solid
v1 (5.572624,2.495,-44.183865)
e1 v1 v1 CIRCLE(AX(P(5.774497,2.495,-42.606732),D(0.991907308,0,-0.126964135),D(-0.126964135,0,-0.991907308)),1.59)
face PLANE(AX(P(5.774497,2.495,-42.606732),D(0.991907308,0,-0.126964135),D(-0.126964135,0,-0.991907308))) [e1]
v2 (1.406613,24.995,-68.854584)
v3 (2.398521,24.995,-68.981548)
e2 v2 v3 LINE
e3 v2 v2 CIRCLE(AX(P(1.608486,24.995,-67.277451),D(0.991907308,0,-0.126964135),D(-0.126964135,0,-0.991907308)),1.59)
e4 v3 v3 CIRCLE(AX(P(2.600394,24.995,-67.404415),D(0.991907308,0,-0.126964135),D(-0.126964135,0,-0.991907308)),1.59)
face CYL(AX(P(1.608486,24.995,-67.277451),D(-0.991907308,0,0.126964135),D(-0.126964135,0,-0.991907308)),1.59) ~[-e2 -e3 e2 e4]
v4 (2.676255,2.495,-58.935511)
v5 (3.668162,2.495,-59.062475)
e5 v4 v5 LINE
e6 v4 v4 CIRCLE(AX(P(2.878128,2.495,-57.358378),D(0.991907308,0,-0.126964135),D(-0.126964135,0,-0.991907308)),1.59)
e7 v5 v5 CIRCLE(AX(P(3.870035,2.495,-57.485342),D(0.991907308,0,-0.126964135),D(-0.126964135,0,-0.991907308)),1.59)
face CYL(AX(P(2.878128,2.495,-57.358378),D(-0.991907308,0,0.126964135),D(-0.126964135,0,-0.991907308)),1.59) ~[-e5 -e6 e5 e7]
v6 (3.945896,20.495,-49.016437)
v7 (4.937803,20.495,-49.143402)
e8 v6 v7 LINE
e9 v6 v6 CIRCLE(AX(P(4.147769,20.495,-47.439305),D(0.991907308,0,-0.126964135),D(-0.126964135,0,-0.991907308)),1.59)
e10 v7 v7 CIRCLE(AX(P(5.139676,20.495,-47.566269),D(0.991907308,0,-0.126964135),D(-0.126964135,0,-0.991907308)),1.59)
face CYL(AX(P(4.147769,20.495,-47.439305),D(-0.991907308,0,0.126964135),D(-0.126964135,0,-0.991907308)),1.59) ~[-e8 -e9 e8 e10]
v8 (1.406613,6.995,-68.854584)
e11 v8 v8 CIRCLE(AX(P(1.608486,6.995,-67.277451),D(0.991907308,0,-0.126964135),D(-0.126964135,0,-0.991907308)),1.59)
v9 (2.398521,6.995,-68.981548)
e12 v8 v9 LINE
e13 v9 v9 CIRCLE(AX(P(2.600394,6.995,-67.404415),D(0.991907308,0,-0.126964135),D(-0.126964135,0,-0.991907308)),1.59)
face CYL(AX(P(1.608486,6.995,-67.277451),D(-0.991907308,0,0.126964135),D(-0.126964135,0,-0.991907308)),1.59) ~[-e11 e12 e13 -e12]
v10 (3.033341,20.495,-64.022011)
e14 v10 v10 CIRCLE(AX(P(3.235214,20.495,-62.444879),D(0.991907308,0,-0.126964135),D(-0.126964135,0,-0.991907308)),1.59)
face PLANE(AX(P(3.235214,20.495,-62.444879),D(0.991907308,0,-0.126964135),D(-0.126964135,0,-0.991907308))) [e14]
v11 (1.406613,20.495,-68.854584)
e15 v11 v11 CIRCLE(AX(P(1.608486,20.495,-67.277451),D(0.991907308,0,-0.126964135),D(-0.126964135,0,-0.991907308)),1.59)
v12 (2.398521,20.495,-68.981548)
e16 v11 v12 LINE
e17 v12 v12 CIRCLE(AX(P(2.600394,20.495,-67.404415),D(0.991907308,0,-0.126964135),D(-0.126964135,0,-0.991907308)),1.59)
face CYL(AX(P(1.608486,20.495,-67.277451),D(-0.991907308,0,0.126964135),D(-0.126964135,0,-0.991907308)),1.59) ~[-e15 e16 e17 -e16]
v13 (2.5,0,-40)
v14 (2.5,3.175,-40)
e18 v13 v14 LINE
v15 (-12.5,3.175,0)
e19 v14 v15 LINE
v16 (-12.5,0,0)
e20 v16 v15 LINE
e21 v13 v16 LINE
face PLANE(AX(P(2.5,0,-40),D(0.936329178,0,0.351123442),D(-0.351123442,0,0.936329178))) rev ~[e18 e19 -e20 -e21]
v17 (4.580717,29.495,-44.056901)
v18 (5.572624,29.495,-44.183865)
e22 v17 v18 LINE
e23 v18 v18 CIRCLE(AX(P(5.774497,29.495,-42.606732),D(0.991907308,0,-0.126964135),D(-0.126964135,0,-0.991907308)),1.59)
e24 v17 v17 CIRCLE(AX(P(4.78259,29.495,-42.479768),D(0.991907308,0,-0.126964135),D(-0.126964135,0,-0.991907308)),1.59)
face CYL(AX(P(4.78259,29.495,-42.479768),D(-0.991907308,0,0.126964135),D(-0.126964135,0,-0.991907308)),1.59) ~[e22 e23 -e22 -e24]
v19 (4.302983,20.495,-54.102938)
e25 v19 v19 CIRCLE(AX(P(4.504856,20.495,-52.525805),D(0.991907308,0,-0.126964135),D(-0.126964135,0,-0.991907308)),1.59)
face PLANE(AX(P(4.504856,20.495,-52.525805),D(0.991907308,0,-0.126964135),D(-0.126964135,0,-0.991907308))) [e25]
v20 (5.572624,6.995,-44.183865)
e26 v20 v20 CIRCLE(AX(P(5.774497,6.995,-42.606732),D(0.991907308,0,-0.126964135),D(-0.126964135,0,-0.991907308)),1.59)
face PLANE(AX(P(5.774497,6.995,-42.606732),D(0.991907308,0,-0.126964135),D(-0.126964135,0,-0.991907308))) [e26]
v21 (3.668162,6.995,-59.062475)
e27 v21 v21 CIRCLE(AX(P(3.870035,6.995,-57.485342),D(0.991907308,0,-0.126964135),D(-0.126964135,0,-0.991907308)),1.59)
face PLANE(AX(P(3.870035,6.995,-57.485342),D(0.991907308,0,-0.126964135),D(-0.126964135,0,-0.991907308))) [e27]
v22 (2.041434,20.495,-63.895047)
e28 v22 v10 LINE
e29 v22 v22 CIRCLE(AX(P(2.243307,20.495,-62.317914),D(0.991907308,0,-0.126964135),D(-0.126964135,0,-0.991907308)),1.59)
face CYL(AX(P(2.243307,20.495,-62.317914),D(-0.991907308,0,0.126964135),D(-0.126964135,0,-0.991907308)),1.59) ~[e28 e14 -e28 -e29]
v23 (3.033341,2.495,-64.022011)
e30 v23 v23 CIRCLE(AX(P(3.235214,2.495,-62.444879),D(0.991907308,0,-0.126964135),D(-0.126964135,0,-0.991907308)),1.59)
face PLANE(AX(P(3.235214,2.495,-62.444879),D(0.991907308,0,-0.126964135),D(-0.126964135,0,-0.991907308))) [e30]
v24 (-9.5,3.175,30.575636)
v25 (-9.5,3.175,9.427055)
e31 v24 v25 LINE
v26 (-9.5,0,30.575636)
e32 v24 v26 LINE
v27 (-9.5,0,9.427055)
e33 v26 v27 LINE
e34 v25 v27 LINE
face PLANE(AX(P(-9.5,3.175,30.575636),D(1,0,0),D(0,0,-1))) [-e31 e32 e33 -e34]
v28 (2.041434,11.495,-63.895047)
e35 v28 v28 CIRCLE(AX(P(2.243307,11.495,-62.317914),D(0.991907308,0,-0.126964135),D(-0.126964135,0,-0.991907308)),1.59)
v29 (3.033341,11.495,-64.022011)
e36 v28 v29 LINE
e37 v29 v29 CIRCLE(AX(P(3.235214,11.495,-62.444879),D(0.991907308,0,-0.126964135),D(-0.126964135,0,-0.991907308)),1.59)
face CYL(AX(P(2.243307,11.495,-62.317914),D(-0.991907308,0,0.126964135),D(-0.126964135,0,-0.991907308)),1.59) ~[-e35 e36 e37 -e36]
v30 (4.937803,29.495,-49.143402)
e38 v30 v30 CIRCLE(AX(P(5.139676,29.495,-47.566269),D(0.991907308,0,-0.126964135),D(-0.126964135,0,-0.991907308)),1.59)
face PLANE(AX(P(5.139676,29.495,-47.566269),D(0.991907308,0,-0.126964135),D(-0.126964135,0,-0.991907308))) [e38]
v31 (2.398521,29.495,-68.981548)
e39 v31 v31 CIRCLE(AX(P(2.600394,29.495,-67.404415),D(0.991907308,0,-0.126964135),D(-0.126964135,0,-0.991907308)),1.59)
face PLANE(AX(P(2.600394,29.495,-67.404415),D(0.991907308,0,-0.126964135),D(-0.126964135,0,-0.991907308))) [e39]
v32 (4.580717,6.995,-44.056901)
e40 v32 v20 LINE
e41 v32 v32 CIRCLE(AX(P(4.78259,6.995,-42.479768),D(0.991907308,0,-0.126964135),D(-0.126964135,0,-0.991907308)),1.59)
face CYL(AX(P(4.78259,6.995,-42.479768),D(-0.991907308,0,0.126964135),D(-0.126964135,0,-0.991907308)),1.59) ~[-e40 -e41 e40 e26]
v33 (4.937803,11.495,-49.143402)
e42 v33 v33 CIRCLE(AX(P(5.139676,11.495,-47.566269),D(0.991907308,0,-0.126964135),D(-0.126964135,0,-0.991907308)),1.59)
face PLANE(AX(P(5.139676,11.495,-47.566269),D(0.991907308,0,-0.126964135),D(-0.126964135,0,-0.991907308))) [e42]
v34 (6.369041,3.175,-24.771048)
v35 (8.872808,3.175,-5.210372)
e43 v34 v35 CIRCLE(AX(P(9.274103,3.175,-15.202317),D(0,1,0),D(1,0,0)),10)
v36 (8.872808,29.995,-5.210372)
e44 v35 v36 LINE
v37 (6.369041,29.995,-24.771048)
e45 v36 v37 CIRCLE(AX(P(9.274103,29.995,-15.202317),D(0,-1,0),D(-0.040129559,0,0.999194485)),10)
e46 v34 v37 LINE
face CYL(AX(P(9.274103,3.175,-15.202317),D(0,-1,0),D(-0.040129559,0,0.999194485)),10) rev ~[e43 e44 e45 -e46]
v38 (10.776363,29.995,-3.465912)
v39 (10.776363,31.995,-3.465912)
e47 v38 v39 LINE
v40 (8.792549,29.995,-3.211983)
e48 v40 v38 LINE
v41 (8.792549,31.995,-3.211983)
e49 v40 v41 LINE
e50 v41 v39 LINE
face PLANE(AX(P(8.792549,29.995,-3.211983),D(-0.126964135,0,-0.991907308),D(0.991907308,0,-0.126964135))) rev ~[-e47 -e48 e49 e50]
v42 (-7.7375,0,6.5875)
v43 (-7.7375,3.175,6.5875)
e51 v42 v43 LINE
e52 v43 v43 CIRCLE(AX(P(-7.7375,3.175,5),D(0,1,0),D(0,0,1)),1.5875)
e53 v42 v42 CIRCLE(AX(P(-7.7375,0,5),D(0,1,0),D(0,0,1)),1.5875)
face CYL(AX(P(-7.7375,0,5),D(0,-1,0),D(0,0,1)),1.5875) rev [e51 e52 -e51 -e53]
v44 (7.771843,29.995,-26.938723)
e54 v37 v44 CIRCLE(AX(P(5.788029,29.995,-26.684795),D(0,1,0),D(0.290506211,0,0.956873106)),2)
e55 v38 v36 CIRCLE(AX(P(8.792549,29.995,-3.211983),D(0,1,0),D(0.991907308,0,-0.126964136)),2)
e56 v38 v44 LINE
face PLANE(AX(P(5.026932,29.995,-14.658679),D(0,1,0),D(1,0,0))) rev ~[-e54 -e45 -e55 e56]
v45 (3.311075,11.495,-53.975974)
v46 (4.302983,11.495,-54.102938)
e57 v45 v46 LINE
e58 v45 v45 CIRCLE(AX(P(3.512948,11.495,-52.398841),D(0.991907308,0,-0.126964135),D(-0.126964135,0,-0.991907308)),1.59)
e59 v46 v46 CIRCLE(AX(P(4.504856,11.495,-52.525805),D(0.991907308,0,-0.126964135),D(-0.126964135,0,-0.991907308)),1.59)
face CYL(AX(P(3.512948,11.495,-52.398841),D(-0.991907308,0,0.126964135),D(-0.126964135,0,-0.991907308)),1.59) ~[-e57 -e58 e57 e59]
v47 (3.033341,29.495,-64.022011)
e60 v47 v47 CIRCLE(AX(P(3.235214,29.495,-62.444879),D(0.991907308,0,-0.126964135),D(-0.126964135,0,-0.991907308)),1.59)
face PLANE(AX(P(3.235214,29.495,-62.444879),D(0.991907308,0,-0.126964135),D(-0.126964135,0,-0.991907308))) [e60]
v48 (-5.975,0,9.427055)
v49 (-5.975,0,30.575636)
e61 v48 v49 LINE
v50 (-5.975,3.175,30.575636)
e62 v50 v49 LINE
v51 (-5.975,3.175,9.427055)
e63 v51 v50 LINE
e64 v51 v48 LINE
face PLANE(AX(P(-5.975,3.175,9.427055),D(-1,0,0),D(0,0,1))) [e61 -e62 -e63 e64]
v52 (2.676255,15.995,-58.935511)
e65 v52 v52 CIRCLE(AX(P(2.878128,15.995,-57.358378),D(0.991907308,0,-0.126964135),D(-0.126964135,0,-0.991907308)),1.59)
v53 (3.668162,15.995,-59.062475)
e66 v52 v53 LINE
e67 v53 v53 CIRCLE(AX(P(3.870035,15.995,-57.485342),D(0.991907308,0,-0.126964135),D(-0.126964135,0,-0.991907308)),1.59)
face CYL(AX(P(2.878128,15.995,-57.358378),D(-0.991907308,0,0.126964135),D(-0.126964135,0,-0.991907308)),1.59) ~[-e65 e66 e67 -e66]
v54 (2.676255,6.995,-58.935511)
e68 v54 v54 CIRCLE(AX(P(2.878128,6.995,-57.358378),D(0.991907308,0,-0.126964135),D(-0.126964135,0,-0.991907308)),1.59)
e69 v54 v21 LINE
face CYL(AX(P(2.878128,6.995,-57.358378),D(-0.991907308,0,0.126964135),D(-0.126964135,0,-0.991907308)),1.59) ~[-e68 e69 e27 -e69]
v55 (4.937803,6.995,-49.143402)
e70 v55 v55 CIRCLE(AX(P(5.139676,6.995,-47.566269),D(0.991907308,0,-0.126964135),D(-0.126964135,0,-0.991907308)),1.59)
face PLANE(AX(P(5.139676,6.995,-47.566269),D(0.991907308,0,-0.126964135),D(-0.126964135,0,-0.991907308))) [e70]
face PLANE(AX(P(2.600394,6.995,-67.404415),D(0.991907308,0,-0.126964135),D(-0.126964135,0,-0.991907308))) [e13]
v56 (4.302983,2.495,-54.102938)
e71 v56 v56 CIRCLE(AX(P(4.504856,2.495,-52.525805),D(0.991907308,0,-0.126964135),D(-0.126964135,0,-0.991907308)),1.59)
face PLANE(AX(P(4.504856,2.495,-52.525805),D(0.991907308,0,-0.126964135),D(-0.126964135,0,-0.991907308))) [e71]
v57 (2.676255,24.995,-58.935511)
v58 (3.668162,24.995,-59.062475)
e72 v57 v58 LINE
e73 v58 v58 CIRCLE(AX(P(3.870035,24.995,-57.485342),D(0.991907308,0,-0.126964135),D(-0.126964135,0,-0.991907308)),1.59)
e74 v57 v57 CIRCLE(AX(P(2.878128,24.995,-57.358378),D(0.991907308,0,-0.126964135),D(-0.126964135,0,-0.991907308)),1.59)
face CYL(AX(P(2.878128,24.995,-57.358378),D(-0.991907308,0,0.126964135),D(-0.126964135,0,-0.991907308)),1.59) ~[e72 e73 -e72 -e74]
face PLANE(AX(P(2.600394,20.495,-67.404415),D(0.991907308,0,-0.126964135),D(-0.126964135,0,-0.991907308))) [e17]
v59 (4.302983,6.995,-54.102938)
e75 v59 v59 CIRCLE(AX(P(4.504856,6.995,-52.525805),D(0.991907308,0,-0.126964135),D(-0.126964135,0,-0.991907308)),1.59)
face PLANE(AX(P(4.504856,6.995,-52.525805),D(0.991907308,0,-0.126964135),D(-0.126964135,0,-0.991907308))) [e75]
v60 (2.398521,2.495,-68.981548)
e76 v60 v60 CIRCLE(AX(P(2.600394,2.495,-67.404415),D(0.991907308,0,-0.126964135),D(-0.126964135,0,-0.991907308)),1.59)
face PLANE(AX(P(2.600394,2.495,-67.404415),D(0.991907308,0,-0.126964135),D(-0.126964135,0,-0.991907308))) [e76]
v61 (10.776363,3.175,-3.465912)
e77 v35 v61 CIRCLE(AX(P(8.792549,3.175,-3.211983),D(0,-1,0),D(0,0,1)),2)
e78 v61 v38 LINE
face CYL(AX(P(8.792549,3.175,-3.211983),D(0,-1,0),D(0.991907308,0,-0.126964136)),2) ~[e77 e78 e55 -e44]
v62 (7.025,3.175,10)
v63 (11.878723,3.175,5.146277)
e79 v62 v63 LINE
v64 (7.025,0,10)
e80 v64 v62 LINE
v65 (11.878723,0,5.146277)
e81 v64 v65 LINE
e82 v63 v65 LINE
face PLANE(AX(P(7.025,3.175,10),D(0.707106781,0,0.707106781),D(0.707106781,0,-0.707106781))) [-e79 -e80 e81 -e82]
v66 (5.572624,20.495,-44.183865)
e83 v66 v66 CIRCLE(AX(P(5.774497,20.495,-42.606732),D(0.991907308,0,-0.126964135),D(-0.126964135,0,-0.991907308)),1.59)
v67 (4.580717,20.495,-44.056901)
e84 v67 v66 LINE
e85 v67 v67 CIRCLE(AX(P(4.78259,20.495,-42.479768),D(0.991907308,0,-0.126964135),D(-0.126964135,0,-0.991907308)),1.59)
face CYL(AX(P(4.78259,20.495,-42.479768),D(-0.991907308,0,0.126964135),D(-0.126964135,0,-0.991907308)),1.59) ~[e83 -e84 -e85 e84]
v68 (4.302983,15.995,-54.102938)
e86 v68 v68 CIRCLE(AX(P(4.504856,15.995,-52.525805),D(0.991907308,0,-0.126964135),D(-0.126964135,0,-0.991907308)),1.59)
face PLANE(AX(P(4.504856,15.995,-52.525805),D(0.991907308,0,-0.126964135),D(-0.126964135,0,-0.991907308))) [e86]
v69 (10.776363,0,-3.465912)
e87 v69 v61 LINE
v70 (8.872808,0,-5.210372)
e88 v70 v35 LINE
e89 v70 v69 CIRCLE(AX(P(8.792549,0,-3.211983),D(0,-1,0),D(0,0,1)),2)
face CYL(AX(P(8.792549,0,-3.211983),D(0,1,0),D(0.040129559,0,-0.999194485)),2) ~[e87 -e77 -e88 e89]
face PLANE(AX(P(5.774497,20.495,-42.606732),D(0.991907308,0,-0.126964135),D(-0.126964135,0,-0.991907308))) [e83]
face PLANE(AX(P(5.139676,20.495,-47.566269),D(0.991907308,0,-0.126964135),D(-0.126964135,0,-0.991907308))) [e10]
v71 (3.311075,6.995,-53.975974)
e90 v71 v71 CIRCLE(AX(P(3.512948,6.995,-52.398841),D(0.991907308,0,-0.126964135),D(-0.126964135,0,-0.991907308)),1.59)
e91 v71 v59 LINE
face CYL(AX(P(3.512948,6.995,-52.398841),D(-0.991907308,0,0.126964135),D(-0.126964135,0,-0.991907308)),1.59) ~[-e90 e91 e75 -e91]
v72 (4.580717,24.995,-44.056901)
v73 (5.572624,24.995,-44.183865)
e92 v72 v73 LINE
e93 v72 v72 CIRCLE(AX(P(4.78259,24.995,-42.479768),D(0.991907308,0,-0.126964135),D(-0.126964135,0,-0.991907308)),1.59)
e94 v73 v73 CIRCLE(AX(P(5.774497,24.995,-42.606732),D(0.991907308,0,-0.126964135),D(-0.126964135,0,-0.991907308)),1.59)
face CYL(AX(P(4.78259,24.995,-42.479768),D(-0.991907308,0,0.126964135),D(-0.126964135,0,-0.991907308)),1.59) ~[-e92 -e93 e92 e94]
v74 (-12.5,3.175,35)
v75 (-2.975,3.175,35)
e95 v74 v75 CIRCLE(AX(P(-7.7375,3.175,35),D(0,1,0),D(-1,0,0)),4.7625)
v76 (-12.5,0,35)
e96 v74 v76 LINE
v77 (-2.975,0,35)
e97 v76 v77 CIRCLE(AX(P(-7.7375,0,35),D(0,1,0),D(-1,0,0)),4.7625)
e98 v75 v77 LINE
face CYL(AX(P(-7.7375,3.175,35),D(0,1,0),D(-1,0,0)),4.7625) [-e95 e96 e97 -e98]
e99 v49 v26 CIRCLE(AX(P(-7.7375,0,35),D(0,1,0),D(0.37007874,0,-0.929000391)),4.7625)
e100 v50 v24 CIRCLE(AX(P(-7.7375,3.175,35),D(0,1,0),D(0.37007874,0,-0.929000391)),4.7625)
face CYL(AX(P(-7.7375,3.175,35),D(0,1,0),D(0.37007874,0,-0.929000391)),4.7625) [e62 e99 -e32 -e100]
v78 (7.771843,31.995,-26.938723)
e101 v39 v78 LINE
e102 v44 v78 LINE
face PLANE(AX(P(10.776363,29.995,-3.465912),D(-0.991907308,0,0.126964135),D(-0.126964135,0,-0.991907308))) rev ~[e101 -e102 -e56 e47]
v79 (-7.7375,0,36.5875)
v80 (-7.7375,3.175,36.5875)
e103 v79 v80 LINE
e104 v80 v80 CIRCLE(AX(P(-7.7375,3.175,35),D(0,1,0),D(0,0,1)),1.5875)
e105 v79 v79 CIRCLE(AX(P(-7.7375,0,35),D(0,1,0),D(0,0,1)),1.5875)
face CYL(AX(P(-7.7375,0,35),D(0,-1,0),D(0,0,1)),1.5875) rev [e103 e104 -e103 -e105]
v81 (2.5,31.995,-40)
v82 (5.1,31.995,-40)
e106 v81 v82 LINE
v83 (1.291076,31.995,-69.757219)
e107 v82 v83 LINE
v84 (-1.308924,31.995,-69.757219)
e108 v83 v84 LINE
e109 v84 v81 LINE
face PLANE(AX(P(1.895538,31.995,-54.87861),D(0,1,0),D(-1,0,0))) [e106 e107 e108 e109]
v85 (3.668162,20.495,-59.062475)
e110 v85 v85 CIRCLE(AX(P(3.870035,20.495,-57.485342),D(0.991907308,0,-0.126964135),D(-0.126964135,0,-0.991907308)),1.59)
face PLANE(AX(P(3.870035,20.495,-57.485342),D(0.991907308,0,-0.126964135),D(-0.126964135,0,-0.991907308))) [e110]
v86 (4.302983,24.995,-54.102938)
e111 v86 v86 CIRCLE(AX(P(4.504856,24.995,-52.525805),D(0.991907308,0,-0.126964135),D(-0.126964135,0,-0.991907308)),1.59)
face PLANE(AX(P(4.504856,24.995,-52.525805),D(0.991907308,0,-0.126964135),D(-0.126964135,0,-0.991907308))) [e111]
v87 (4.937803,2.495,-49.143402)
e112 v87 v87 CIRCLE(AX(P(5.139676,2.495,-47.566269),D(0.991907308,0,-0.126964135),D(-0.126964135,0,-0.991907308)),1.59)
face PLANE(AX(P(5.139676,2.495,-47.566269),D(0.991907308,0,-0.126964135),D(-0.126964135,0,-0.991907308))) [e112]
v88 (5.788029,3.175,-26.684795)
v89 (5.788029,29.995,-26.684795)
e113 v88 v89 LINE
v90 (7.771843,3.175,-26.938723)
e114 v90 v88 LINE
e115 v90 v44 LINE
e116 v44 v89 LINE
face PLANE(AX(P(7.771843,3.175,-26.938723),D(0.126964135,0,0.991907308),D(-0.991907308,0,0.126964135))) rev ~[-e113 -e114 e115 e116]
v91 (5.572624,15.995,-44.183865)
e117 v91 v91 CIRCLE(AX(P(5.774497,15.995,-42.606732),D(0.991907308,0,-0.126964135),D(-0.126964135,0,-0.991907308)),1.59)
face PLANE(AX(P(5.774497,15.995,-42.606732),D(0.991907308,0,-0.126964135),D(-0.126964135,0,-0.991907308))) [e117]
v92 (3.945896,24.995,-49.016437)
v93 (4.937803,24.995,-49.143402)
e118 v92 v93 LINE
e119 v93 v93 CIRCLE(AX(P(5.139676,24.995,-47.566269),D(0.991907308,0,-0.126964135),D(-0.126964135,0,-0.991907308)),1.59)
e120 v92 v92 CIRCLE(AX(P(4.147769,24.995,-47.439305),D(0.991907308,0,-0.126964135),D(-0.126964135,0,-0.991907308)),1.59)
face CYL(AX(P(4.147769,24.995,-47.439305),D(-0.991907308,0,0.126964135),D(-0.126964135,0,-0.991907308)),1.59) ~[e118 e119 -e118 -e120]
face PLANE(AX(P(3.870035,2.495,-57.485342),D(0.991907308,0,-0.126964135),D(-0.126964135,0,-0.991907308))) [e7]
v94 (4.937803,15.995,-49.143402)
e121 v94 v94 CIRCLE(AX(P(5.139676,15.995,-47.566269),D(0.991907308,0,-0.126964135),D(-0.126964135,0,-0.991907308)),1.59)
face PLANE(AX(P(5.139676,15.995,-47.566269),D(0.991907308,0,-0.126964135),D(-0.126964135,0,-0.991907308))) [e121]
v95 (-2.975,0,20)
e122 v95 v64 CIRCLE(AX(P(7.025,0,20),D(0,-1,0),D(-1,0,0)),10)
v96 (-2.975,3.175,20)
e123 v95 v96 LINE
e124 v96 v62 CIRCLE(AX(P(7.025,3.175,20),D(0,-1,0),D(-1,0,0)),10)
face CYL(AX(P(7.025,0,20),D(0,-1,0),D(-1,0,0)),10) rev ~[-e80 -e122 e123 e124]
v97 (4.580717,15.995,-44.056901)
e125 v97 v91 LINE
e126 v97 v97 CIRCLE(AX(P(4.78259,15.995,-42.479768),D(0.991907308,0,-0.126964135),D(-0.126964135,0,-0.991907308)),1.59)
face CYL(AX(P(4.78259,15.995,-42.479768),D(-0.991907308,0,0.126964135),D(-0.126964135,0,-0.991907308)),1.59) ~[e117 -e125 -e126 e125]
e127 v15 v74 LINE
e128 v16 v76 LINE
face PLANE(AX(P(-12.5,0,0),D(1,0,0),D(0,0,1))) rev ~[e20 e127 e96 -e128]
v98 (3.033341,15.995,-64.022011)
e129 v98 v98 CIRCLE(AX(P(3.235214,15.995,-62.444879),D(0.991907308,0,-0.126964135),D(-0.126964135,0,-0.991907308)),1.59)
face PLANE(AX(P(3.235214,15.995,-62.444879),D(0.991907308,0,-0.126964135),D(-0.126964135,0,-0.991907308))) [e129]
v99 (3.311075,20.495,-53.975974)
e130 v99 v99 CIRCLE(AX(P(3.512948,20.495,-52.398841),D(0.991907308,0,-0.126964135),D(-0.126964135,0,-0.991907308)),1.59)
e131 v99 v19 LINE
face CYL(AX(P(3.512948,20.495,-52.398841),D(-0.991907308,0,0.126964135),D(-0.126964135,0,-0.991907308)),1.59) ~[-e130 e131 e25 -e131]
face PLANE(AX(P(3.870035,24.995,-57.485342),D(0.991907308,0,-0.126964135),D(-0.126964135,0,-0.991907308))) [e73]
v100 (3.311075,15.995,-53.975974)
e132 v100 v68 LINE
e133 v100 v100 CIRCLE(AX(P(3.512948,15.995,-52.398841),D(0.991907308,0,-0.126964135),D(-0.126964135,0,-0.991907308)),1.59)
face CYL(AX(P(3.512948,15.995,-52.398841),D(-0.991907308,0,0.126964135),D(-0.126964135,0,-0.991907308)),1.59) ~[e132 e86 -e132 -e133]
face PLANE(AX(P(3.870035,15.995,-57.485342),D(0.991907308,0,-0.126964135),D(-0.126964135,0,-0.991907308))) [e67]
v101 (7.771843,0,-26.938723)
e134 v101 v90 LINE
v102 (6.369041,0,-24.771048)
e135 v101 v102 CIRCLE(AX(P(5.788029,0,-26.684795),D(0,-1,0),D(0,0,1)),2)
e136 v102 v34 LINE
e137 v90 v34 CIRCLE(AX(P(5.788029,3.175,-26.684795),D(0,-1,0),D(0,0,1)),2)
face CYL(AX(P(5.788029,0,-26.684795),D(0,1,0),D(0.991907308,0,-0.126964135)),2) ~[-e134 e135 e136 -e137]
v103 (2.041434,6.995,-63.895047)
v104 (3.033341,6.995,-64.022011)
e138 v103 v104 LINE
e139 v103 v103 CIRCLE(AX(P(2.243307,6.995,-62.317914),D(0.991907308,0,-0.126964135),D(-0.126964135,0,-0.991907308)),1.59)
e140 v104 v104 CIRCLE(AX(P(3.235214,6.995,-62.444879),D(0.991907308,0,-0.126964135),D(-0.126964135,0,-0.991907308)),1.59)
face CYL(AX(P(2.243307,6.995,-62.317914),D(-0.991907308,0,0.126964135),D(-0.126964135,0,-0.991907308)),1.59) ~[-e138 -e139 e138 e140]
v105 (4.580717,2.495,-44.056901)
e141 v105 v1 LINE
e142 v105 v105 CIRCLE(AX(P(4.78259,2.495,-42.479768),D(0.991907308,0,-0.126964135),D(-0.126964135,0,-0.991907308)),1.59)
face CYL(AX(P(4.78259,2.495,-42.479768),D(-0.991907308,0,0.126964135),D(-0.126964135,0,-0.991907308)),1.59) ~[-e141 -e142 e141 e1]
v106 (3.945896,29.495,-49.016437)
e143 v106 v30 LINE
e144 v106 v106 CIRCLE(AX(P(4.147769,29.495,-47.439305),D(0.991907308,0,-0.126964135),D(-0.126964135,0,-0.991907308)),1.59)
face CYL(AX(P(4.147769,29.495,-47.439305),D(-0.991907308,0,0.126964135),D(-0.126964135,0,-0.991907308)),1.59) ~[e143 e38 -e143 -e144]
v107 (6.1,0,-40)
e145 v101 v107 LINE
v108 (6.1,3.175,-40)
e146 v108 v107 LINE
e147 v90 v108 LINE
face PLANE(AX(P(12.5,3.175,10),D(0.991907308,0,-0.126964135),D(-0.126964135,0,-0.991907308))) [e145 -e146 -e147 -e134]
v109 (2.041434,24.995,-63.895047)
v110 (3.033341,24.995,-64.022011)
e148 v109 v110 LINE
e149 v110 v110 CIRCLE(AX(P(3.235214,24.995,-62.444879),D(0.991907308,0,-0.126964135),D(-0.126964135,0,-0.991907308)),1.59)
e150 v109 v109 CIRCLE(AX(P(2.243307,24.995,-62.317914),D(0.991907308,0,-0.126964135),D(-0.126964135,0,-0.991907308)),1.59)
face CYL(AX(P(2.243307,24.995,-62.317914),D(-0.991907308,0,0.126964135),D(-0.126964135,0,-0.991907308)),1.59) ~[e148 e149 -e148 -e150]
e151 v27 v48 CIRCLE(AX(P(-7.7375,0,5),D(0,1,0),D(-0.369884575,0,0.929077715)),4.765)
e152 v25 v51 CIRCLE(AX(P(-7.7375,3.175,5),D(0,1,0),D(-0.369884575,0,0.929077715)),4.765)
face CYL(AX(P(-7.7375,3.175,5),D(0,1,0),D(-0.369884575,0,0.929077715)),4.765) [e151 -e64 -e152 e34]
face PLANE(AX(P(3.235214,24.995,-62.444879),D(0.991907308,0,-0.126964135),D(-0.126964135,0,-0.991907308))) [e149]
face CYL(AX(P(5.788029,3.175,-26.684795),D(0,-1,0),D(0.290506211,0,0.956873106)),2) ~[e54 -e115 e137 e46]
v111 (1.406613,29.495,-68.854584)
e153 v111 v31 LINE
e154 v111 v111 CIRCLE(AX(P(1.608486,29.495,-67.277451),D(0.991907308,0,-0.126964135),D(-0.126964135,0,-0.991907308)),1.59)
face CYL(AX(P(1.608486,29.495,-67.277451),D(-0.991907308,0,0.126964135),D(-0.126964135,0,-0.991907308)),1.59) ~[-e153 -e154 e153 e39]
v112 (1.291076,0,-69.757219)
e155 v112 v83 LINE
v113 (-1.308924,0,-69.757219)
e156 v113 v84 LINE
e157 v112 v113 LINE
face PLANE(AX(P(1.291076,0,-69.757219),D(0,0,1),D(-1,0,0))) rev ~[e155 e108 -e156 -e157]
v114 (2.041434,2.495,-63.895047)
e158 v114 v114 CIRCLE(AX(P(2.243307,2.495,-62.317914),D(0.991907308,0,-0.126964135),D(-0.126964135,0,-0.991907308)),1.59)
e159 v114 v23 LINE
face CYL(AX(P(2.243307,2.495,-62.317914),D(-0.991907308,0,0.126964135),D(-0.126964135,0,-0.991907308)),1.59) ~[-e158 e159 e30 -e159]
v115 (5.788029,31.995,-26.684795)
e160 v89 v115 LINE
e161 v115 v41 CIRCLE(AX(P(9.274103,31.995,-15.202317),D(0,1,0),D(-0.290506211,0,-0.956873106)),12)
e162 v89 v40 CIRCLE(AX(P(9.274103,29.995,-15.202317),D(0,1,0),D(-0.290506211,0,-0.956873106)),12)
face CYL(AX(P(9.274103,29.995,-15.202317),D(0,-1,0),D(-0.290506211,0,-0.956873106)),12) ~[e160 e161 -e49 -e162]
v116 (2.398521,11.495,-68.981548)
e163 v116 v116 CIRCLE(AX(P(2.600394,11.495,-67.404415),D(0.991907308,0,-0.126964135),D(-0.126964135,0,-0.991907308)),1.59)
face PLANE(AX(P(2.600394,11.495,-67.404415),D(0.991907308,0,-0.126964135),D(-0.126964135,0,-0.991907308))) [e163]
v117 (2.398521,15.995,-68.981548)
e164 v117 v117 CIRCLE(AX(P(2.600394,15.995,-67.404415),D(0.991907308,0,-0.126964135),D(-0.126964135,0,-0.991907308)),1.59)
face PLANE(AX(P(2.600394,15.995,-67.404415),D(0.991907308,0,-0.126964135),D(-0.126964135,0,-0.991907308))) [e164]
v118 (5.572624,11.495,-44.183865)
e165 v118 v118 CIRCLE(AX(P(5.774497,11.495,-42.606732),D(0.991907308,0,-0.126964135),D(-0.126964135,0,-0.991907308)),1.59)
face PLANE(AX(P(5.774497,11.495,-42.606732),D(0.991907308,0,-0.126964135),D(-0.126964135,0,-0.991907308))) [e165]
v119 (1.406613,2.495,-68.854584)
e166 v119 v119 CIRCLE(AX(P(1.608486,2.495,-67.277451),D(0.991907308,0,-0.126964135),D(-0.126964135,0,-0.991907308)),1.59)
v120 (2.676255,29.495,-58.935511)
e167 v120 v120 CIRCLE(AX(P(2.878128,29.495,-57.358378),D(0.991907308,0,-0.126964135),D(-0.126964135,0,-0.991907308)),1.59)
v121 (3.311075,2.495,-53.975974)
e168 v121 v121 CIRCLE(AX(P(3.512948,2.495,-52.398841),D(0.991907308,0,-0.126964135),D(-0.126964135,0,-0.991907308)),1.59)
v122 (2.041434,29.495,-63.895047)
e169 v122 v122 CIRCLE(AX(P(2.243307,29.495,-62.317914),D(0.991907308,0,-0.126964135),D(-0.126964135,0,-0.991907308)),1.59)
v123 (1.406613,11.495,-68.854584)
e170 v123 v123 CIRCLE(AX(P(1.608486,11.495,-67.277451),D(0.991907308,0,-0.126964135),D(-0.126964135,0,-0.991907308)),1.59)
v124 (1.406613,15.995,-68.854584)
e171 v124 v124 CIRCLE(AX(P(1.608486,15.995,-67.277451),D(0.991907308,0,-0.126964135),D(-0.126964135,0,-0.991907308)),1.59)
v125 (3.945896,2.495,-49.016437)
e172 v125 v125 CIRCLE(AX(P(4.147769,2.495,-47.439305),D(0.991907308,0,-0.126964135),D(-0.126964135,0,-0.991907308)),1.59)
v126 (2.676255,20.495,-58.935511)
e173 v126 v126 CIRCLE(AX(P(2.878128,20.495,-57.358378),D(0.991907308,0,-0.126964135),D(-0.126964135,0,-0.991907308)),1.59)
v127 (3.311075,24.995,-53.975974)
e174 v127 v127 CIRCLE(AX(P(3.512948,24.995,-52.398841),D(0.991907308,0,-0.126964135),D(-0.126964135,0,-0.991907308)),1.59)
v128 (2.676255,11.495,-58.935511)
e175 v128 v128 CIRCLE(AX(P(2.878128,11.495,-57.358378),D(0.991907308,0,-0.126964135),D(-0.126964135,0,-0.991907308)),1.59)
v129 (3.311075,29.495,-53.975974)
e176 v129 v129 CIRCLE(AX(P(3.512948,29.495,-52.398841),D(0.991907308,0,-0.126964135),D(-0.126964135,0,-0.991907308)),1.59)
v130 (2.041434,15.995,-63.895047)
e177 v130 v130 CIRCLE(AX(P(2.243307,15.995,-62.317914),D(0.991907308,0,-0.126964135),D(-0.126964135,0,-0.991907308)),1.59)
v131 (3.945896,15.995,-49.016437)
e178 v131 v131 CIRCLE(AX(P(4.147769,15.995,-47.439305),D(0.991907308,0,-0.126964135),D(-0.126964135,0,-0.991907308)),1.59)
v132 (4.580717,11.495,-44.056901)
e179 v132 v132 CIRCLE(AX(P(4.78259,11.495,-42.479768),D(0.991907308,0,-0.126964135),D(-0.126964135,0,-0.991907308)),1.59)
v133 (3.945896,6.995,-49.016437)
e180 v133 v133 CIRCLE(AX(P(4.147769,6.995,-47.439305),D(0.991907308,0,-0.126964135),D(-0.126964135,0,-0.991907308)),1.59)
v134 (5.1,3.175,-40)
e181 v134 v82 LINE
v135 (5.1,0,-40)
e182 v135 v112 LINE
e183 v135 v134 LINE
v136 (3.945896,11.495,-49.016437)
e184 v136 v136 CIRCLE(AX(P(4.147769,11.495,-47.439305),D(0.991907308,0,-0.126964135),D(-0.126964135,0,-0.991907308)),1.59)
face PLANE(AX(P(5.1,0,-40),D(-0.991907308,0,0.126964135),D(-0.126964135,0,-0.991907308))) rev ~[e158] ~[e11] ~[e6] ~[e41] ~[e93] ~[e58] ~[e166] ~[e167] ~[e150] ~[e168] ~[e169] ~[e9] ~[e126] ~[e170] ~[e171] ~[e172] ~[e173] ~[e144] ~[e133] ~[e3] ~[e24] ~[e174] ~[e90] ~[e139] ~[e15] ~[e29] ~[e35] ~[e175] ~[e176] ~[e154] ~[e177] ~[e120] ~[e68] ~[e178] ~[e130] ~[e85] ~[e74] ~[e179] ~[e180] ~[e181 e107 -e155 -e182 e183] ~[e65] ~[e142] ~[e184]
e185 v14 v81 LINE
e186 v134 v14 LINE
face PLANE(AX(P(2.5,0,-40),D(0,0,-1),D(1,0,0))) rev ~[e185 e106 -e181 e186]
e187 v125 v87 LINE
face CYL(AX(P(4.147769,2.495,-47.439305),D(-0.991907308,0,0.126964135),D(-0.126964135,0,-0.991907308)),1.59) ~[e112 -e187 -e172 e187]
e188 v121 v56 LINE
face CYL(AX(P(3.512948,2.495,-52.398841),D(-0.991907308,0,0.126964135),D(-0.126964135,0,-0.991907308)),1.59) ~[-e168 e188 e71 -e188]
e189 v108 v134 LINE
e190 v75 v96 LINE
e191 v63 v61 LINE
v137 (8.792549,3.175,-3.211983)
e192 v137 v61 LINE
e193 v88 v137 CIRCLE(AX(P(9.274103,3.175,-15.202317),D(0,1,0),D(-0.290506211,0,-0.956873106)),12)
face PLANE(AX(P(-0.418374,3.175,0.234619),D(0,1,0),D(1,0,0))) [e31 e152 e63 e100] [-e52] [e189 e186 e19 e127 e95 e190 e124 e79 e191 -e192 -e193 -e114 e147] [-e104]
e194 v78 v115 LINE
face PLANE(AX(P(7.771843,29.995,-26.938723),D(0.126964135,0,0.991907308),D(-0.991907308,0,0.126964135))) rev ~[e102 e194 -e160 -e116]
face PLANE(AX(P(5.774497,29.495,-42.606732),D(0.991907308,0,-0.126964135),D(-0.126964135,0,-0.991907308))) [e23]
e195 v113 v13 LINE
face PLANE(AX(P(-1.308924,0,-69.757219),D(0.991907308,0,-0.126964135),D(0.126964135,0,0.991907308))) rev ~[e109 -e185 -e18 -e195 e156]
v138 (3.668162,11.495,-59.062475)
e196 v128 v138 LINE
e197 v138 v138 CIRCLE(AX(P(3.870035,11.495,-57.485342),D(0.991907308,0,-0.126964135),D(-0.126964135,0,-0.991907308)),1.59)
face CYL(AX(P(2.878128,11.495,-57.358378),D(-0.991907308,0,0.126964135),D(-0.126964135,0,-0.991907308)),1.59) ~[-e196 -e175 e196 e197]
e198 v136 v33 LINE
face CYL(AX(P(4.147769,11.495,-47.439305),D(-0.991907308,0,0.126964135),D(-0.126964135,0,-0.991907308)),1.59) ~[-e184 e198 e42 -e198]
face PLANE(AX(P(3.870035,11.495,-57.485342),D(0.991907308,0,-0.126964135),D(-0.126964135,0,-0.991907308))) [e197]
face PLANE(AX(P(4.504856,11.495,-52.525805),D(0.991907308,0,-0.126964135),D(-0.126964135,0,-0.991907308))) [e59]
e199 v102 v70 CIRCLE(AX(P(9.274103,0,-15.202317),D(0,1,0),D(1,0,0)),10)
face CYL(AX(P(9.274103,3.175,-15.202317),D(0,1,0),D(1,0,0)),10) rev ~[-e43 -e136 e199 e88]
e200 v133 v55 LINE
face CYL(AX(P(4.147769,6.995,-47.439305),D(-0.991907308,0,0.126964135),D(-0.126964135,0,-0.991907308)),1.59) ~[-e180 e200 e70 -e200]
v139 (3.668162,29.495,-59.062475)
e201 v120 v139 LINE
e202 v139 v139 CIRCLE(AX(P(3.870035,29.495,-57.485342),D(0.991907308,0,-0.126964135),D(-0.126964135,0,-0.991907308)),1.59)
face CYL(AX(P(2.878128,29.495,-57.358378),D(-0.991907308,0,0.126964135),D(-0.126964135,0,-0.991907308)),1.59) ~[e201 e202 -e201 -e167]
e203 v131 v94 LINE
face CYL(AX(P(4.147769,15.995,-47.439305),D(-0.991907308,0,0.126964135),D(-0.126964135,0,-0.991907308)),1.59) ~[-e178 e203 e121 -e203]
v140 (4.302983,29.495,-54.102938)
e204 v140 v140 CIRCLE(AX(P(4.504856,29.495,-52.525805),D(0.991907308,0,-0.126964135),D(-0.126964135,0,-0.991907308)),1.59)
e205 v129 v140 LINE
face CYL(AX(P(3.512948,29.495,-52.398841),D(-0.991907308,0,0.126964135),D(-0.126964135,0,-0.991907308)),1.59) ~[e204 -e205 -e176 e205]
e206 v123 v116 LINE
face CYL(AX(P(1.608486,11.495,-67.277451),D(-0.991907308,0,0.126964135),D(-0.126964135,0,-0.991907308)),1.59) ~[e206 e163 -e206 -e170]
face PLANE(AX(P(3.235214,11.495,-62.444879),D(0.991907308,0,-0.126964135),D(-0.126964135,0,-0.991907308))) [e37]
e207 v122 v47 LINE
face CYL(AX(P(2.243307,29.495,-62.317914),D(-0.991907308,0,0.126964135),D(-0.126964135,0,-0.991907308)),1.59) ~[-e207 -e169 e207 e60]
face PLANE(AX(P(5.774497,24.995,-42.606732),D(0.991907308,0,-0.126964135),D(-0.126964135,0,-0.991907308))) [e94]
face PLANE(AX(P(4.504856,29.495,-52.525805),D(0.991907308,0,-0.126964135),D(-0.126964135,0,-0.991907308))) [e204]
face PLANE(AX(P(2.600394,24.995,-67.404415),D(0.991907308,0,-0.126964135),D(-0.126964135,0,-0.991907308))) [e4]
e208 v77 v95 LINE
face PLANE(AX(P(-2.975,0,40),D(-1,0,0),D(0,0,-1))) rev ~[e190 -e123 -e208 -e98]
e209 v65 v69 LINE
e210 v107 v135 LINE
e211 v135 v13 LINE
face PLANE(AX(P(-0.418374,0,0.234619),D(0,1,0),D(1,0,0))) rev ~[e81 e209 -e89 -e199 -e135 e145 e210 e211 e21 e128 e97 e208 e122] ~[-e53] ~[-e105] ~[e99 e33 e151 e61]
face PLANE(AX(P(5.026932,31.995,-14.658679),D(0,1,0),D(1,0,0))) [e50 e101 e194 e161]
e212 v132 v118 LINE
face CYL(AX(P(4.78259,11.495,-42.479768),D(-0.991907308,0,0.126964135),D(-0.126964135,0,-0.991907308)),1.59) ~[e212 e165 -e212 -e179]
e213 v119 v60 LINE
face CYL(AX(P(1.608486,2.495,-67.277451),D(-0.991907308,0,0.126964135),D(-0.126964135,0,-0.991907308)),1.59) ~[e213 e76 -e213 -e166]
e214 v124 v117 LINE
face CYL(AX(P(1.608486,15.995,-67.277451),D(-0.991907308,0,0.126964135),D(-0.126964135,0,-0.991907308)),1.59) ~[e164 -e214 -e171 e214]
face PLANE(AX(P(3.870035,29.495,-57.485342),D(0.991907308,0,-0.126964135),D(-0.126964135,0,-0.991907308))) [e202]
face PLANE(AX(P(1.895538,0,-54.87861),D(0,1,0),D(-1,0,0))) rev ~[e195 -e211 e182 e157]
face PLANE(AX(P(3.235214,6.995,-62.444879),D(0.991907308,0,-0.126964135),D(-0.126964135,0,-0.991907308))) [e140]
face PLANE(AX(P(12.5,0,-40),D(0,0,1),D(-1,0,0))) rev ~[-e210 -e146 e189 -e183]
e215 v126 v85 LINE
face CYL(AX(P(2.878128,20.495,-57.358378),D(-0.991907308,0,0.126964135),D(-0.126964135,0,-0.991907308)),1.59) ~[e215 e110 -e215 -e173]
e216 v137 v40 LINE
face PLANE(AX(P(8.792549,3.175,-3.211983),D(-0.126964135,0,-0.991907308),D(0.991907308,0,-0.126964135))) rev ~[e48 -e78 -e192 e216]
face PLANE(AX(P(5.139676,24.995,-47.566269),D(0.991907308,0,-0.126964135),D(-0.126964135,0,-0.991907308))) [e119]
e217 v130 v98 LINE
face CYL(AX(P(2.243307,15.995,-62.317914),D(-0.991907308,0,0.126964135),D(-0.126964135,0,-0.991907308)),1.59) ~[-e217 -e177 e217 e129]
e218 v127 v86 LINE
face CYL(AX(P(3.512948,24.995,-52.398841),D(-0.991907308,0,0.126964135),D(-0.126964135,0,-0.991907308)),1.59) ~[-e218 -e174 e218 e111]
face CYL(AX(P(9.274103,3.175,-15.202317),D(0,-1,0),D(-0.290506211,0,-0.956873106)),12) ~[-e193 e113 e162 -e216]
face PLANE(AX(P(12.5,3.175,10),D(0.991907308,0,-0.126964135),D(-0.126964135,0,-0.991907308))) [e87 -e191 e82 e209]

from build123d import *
from build123d.topology import SkipClean

# Parameters (mm, degrees)
CROQUIS1_R              = 1.5875
SALIENTE_EXTRUIR1_DEPTH = 3.175
CORTAR_EXTRUIR1_DEPTH   = 3.175
CORTAR_EXTRUIR3_DEPTH   = 10
CROQUIS4_R              = 10
CORTAR_EXTRUIR4_DEPTH   = 10
REDONDEO1_R             = 2
BOSS_EXTRUDE1_DEPTH     = 26.82
BOSS_EXTRUDE2_DEPTH     = 2
BOSS_EXTRUDE3_DEPTH     = 31.995
SKETCH5_R               = 1.59
BOSS_EXTRUDE4_DEPTH     = 1


with BuildPart() as part:
    # Croquis1 → Saliente-Extruir1 (new body)
    with BuildSketch(Plane(origin=(0, 0, 0), x_dir=(1, 0, 0), z_dir=(0, 1, 0))):
        with BuildLine():
            Line((-12.5, 0), (-12.5, -40))
            Line((-12.5, -40), (-2.975, -40))
            Line((-2.975, -40), (-2.975, -20))
            ThreePointArc((-2.975, -20), (-0.046067812, -12.928932188), (7.025, -10))
            Line((7.025, -10), (12.5, -10))
            Line((12.5, -10), (12.5, 40))
            Line((12.5, 40), (2.5, 40))
            Line((2.5, 40), (-12.5, 0))
        make_face()
        with Locations(Location((-7.7375, -5, 0), (0, 0, 270))):
            Circle(CROQUIS1_R, mode=Mode.SUBTRACT)
        with Locations(Location((-7.7375, -35, 0), (0, 0, 270))):
            Circle(CROQUIS1_R, mode=Mode.SUBTRACT)
    extrude(amount=SALIENTE_EXTRUIR1_DEPTH)

    # Croquis2 → Cortar-Extruir1 (cut)
    with BuildSketch(Plane(origin=(0, 3.175, 0), x_dir=(1, 0, 0), z_dir=(0, 1, 0))):
        Polygon((12.5, -10), (6.1, 40), (12.5, 40), align=None)
    extrude(amount=-CORTAR_EXTRUIR1_DEPTH, mode=Mode.SUBTRACT)

    # Croquis3 → Cortar-Extruir3 (cut)
    with BuildSketch(Plane(origin=(0, 3.175, 0), x_dir=(1, 0, 0), z_dir=(0, 1, 0))):
        with BuildLine():
            ThreePointArc((-5.975, -30.575635639), (-7.7375, -30.2375), (-9.5, -30.575635639))
            Line((-9.5, -30.575635639), (-9.5, -9.427055314))
            ThreePointArc((-9.5, -9.427055314), (-7.7375, -9.765), (-5.975, -9.427055314))
            Line((-5.975, -9.427055314), (-5.975, -14.803847577))
            Line((-5.975, -14.803847577), (-5.975, -30.575635639))
        make_face()
        with BuildLine():
            ThreePointArc((-12.5, -35), (-7.7375, -39.7625), (-2.975, -35))
            Line((-2.975, -35), (-2.975, -40))
            Line((-2.975, -40), (-12.5, -40))
            Line((-12.5, -40), (-12.5, -35))
        make_face()
    extrude(amount=-CORTAR_EXTRUIR3_DEPTH, mode=Mode.SUBTRACT)

    # Croquis4 → Cortar-Extruir4 (cut)
    with BuildSketch(Plane(origin=(0, 3.175, 0), x_dir=(1, 0, 0), z_dir=(0, 1, 0))):
        with Locations((9.274103387, 15.202317292)):
            Circle(CROQUIS4_R)
        Polygon((7.025, -10), (11.878723404, -5.146276596), (12.5, -10), align=None)
    extrude(amount=-CORTAR_EXTRUIR4_DEPTH, mode=Mode.SUBTRACT)

    # Redondeo1
    redondeo1_edges = [part.edges().sort_by_distance(p)[0] for p in [
        (8.004462032, 1.5875, -25.121390375),
        (10.543744741, 1.5875, -5.283244209),
    ]]
    fillet(redondeo1_edges, radius=REDONDEO1_R)

    # Sketch1 → Boss-Extrude1 (add)
    with SkipClean():  # the faces are left unmerged after this step: merging them gives an invalid solid
        with BuildSketch(Plane(origin=(0, 3.175, 0), x_dir=(1, 0, 0), z_dir=(0, 1, 0))):
            with BuildLine():
                Line((7.771843477, 26.938722839), (5.78802886, 26.684794568))
                ThreePointArc((5.78802886, 26.684794568), (-2.628784313, 13.678747666), (8.79254868, 3.211983474))
                Line((8.79254868, 3.211983474), (10.776363297, 3.465911745))
                ThreePointArc((10.776363297, 3.465911745), (10.143802127, 4.686471223), (8.872807798, 5.210372444))
                ThreePointArc((8.872807798, 5.210372444), (-0.644969697, 13.932675937), (6.369041281, 24.771048355))
                ThreePointArc((6.369041281, 24.771048355), (7.467102295, 25.59818866), (7.771843477, 26.938722839))
            make_face()
        extrude(amount=BOSS_EXTRUDE1_DEPTH)

    # Sketch2 → Boss-Extrude2 (add)
    with SkipClean():  # the faces are left unmerged after this step: merging them gives an invalid solid
        with BuildSketch(Plane(origin=(0, 29.995, 0), x_dir=(1, 0, 0), z_dir=(0, 1, 0))):
            with BuildLine():
                Line((10.776363297, 3.465911745), (7.771843477, 26.938722839))
                Line((7.771843477, 26.938722839), (5.78802886, 26.684794568))
                ThreePointArc((5.78802886, 26.684794568), (-2.628784313, 13.678747666), (8.79254868, 3.211983474))
                Line((8.79254868, 3.211983474), (10.776363297, 3.465911745))
            make_face()
        extrude(amount=BOSS_EXTRUDE2_DEPTH)

    # Sketch4 → Boss-Extrude3 (add)
    with SkipClean():  # the faces are left unmerged after this step: merging them gives an invalid solid
        with BuildSketch(Plane.XZ):
            Polygon((1.291075936, -69.75721925), (-1.308924064, -69.75721925), (2.5, -40), (5.1, -40), align=None)
        extrude(amount=-BOSS_EXTRUDE3_DEPTH)

    # Sketch5 → Boss-Extrude4 (add)
    with SkipClean():  # the faces are left unmerged after this step: merging them gives an invalid solid
        with BuildSketch(Plane(origin=(10.055254707, 0, -1.287072602), x_dir=(-0.12696413546540494, 0, -0.9919073083234755), z_dir=(0.9919073083234755, 0, -0.12696413546540494))):
            with Locations((41.528775242, 29.495)):
                Circle(SKETCH5_R)
            with Locations((46.528775242, 29.495)):
                Circle(SKETCH5_R)
            with Locations((51.528775242, 29.495)):
                Circle(SKETCH5_R)
            with Locations((56.528775242, 29.495)):
                Circle(SKETCH5_R)
            with Locations((61.528775242, 29.495)):
                Circle(SKETCH5_R)
            with Locations((66.528775242, 29.495)):
                Circle(SKETCH5_R)
            with Locations((46.528775242, 24.995)):
                Circle(SKETCH5_R)
            with Locations((51.528775242, 24.995)):
                Circle(SKETCH5_R)
            with Locations((56.528775242, 24.995)):
                Circle(SKETCH5_R)
            with Locations((61.528775242, 24.995)):
                Circle(SKETCH5_R)
            with Locations((66.528775242, 24.995)):
                Circle(SKETCH5_R)
            with Locations((46.528775242, 20.495)):
                Circle(SKETCH5_R)
            with Locations((51.528775242, 20.495)):
                Circle(SKETCH5_R)
            with Locations((56.528775242, 20.495)):
                Circle(SKETCH5_R)
            with Locations((61.528775242, 20.495)):
                Circle(SKETCH5_R)
            with Locations((66.528775242, 20.495)):
                Circle(SKETCH5_R)
            with Locations((46.528775242, 15.995)):
                Circle(SKETCH5_R)
            with Locations((51.528775242, 15.995)):
                Circle(SKETCH5_R)
            with Locations((56.528775242, 15.995)):
                Circle(SKETCH5_R)
            with Locations((61.528775242, 15.995)):
                Circle(SKETCH5_R)
            with Locations((66.528775242, 15.995)):
                Circle(SKETCH5_R)
            with Locations((46.528775242, 11.495)):
                Circle(SKETCH5_R)
            with Locations((51.528775242, 11.495)):
                Circle(SKETCH5_R)
            with Locations((56.528775242, 11.495)):
                Circle(SKETCH5_R)
            with Locations((61.528775242, 11.495)):
                Circle(SKETCH5_R)
            with Locations((66.528775242, 11.495)):
                Circle(SKETCH5_R)
            with Locations((46.528775242, 6.995)):
                Circle(SKETCH5_R)
            with Locations((51.528775242, 6.995)):
                Circle(SKETCH5_R)
            with Locations((56.528775242, 6.995)):
                Circle(SKETCH5_R)
            with Locations((61.528775242, 6.995)):
                Circle(SKETCH5_R)
            with Locations((66.528775242, 6.995)):
                Circle(SKETCH5_R)
            with Locations((46.528775242, 2.495)):
                Circle(SKETCH5_R)
            with Locations((51.528775242, 2.495)):
                Circle(SKETCH5_R)
            with Locations((56.528775242, 2.495)):
                Circle(SKETCH5_R)
            with Locations((61.528775242, 2.495)):
                Circle(SKETCH5_R)
            with Locations((66.528775242, 2.495)):
                Circle(SKETCH5_R)
            with Locations((41.528775242, 24.995)):
                Circle(SKETCH5_R)
            with Locations((41.528775242, 20.495)):
                Circle(SKETCH5_R)
            with Locations((41.528775242, 15.995)):
                Circle(SKETCH5_R)
            with Locations((41.528775242, 11.495)):
                Circle(SKETCH5_R)
            with Locations((41.528775242, 6.995)):
                Circle(SKETCH5_R)
            with Locations((41.528775242, 2.495)):
                Circle(SKETCH5_R)
        extrude(amount=BOSS_EXTRUDE4_DEPTH)


solid = part.part
